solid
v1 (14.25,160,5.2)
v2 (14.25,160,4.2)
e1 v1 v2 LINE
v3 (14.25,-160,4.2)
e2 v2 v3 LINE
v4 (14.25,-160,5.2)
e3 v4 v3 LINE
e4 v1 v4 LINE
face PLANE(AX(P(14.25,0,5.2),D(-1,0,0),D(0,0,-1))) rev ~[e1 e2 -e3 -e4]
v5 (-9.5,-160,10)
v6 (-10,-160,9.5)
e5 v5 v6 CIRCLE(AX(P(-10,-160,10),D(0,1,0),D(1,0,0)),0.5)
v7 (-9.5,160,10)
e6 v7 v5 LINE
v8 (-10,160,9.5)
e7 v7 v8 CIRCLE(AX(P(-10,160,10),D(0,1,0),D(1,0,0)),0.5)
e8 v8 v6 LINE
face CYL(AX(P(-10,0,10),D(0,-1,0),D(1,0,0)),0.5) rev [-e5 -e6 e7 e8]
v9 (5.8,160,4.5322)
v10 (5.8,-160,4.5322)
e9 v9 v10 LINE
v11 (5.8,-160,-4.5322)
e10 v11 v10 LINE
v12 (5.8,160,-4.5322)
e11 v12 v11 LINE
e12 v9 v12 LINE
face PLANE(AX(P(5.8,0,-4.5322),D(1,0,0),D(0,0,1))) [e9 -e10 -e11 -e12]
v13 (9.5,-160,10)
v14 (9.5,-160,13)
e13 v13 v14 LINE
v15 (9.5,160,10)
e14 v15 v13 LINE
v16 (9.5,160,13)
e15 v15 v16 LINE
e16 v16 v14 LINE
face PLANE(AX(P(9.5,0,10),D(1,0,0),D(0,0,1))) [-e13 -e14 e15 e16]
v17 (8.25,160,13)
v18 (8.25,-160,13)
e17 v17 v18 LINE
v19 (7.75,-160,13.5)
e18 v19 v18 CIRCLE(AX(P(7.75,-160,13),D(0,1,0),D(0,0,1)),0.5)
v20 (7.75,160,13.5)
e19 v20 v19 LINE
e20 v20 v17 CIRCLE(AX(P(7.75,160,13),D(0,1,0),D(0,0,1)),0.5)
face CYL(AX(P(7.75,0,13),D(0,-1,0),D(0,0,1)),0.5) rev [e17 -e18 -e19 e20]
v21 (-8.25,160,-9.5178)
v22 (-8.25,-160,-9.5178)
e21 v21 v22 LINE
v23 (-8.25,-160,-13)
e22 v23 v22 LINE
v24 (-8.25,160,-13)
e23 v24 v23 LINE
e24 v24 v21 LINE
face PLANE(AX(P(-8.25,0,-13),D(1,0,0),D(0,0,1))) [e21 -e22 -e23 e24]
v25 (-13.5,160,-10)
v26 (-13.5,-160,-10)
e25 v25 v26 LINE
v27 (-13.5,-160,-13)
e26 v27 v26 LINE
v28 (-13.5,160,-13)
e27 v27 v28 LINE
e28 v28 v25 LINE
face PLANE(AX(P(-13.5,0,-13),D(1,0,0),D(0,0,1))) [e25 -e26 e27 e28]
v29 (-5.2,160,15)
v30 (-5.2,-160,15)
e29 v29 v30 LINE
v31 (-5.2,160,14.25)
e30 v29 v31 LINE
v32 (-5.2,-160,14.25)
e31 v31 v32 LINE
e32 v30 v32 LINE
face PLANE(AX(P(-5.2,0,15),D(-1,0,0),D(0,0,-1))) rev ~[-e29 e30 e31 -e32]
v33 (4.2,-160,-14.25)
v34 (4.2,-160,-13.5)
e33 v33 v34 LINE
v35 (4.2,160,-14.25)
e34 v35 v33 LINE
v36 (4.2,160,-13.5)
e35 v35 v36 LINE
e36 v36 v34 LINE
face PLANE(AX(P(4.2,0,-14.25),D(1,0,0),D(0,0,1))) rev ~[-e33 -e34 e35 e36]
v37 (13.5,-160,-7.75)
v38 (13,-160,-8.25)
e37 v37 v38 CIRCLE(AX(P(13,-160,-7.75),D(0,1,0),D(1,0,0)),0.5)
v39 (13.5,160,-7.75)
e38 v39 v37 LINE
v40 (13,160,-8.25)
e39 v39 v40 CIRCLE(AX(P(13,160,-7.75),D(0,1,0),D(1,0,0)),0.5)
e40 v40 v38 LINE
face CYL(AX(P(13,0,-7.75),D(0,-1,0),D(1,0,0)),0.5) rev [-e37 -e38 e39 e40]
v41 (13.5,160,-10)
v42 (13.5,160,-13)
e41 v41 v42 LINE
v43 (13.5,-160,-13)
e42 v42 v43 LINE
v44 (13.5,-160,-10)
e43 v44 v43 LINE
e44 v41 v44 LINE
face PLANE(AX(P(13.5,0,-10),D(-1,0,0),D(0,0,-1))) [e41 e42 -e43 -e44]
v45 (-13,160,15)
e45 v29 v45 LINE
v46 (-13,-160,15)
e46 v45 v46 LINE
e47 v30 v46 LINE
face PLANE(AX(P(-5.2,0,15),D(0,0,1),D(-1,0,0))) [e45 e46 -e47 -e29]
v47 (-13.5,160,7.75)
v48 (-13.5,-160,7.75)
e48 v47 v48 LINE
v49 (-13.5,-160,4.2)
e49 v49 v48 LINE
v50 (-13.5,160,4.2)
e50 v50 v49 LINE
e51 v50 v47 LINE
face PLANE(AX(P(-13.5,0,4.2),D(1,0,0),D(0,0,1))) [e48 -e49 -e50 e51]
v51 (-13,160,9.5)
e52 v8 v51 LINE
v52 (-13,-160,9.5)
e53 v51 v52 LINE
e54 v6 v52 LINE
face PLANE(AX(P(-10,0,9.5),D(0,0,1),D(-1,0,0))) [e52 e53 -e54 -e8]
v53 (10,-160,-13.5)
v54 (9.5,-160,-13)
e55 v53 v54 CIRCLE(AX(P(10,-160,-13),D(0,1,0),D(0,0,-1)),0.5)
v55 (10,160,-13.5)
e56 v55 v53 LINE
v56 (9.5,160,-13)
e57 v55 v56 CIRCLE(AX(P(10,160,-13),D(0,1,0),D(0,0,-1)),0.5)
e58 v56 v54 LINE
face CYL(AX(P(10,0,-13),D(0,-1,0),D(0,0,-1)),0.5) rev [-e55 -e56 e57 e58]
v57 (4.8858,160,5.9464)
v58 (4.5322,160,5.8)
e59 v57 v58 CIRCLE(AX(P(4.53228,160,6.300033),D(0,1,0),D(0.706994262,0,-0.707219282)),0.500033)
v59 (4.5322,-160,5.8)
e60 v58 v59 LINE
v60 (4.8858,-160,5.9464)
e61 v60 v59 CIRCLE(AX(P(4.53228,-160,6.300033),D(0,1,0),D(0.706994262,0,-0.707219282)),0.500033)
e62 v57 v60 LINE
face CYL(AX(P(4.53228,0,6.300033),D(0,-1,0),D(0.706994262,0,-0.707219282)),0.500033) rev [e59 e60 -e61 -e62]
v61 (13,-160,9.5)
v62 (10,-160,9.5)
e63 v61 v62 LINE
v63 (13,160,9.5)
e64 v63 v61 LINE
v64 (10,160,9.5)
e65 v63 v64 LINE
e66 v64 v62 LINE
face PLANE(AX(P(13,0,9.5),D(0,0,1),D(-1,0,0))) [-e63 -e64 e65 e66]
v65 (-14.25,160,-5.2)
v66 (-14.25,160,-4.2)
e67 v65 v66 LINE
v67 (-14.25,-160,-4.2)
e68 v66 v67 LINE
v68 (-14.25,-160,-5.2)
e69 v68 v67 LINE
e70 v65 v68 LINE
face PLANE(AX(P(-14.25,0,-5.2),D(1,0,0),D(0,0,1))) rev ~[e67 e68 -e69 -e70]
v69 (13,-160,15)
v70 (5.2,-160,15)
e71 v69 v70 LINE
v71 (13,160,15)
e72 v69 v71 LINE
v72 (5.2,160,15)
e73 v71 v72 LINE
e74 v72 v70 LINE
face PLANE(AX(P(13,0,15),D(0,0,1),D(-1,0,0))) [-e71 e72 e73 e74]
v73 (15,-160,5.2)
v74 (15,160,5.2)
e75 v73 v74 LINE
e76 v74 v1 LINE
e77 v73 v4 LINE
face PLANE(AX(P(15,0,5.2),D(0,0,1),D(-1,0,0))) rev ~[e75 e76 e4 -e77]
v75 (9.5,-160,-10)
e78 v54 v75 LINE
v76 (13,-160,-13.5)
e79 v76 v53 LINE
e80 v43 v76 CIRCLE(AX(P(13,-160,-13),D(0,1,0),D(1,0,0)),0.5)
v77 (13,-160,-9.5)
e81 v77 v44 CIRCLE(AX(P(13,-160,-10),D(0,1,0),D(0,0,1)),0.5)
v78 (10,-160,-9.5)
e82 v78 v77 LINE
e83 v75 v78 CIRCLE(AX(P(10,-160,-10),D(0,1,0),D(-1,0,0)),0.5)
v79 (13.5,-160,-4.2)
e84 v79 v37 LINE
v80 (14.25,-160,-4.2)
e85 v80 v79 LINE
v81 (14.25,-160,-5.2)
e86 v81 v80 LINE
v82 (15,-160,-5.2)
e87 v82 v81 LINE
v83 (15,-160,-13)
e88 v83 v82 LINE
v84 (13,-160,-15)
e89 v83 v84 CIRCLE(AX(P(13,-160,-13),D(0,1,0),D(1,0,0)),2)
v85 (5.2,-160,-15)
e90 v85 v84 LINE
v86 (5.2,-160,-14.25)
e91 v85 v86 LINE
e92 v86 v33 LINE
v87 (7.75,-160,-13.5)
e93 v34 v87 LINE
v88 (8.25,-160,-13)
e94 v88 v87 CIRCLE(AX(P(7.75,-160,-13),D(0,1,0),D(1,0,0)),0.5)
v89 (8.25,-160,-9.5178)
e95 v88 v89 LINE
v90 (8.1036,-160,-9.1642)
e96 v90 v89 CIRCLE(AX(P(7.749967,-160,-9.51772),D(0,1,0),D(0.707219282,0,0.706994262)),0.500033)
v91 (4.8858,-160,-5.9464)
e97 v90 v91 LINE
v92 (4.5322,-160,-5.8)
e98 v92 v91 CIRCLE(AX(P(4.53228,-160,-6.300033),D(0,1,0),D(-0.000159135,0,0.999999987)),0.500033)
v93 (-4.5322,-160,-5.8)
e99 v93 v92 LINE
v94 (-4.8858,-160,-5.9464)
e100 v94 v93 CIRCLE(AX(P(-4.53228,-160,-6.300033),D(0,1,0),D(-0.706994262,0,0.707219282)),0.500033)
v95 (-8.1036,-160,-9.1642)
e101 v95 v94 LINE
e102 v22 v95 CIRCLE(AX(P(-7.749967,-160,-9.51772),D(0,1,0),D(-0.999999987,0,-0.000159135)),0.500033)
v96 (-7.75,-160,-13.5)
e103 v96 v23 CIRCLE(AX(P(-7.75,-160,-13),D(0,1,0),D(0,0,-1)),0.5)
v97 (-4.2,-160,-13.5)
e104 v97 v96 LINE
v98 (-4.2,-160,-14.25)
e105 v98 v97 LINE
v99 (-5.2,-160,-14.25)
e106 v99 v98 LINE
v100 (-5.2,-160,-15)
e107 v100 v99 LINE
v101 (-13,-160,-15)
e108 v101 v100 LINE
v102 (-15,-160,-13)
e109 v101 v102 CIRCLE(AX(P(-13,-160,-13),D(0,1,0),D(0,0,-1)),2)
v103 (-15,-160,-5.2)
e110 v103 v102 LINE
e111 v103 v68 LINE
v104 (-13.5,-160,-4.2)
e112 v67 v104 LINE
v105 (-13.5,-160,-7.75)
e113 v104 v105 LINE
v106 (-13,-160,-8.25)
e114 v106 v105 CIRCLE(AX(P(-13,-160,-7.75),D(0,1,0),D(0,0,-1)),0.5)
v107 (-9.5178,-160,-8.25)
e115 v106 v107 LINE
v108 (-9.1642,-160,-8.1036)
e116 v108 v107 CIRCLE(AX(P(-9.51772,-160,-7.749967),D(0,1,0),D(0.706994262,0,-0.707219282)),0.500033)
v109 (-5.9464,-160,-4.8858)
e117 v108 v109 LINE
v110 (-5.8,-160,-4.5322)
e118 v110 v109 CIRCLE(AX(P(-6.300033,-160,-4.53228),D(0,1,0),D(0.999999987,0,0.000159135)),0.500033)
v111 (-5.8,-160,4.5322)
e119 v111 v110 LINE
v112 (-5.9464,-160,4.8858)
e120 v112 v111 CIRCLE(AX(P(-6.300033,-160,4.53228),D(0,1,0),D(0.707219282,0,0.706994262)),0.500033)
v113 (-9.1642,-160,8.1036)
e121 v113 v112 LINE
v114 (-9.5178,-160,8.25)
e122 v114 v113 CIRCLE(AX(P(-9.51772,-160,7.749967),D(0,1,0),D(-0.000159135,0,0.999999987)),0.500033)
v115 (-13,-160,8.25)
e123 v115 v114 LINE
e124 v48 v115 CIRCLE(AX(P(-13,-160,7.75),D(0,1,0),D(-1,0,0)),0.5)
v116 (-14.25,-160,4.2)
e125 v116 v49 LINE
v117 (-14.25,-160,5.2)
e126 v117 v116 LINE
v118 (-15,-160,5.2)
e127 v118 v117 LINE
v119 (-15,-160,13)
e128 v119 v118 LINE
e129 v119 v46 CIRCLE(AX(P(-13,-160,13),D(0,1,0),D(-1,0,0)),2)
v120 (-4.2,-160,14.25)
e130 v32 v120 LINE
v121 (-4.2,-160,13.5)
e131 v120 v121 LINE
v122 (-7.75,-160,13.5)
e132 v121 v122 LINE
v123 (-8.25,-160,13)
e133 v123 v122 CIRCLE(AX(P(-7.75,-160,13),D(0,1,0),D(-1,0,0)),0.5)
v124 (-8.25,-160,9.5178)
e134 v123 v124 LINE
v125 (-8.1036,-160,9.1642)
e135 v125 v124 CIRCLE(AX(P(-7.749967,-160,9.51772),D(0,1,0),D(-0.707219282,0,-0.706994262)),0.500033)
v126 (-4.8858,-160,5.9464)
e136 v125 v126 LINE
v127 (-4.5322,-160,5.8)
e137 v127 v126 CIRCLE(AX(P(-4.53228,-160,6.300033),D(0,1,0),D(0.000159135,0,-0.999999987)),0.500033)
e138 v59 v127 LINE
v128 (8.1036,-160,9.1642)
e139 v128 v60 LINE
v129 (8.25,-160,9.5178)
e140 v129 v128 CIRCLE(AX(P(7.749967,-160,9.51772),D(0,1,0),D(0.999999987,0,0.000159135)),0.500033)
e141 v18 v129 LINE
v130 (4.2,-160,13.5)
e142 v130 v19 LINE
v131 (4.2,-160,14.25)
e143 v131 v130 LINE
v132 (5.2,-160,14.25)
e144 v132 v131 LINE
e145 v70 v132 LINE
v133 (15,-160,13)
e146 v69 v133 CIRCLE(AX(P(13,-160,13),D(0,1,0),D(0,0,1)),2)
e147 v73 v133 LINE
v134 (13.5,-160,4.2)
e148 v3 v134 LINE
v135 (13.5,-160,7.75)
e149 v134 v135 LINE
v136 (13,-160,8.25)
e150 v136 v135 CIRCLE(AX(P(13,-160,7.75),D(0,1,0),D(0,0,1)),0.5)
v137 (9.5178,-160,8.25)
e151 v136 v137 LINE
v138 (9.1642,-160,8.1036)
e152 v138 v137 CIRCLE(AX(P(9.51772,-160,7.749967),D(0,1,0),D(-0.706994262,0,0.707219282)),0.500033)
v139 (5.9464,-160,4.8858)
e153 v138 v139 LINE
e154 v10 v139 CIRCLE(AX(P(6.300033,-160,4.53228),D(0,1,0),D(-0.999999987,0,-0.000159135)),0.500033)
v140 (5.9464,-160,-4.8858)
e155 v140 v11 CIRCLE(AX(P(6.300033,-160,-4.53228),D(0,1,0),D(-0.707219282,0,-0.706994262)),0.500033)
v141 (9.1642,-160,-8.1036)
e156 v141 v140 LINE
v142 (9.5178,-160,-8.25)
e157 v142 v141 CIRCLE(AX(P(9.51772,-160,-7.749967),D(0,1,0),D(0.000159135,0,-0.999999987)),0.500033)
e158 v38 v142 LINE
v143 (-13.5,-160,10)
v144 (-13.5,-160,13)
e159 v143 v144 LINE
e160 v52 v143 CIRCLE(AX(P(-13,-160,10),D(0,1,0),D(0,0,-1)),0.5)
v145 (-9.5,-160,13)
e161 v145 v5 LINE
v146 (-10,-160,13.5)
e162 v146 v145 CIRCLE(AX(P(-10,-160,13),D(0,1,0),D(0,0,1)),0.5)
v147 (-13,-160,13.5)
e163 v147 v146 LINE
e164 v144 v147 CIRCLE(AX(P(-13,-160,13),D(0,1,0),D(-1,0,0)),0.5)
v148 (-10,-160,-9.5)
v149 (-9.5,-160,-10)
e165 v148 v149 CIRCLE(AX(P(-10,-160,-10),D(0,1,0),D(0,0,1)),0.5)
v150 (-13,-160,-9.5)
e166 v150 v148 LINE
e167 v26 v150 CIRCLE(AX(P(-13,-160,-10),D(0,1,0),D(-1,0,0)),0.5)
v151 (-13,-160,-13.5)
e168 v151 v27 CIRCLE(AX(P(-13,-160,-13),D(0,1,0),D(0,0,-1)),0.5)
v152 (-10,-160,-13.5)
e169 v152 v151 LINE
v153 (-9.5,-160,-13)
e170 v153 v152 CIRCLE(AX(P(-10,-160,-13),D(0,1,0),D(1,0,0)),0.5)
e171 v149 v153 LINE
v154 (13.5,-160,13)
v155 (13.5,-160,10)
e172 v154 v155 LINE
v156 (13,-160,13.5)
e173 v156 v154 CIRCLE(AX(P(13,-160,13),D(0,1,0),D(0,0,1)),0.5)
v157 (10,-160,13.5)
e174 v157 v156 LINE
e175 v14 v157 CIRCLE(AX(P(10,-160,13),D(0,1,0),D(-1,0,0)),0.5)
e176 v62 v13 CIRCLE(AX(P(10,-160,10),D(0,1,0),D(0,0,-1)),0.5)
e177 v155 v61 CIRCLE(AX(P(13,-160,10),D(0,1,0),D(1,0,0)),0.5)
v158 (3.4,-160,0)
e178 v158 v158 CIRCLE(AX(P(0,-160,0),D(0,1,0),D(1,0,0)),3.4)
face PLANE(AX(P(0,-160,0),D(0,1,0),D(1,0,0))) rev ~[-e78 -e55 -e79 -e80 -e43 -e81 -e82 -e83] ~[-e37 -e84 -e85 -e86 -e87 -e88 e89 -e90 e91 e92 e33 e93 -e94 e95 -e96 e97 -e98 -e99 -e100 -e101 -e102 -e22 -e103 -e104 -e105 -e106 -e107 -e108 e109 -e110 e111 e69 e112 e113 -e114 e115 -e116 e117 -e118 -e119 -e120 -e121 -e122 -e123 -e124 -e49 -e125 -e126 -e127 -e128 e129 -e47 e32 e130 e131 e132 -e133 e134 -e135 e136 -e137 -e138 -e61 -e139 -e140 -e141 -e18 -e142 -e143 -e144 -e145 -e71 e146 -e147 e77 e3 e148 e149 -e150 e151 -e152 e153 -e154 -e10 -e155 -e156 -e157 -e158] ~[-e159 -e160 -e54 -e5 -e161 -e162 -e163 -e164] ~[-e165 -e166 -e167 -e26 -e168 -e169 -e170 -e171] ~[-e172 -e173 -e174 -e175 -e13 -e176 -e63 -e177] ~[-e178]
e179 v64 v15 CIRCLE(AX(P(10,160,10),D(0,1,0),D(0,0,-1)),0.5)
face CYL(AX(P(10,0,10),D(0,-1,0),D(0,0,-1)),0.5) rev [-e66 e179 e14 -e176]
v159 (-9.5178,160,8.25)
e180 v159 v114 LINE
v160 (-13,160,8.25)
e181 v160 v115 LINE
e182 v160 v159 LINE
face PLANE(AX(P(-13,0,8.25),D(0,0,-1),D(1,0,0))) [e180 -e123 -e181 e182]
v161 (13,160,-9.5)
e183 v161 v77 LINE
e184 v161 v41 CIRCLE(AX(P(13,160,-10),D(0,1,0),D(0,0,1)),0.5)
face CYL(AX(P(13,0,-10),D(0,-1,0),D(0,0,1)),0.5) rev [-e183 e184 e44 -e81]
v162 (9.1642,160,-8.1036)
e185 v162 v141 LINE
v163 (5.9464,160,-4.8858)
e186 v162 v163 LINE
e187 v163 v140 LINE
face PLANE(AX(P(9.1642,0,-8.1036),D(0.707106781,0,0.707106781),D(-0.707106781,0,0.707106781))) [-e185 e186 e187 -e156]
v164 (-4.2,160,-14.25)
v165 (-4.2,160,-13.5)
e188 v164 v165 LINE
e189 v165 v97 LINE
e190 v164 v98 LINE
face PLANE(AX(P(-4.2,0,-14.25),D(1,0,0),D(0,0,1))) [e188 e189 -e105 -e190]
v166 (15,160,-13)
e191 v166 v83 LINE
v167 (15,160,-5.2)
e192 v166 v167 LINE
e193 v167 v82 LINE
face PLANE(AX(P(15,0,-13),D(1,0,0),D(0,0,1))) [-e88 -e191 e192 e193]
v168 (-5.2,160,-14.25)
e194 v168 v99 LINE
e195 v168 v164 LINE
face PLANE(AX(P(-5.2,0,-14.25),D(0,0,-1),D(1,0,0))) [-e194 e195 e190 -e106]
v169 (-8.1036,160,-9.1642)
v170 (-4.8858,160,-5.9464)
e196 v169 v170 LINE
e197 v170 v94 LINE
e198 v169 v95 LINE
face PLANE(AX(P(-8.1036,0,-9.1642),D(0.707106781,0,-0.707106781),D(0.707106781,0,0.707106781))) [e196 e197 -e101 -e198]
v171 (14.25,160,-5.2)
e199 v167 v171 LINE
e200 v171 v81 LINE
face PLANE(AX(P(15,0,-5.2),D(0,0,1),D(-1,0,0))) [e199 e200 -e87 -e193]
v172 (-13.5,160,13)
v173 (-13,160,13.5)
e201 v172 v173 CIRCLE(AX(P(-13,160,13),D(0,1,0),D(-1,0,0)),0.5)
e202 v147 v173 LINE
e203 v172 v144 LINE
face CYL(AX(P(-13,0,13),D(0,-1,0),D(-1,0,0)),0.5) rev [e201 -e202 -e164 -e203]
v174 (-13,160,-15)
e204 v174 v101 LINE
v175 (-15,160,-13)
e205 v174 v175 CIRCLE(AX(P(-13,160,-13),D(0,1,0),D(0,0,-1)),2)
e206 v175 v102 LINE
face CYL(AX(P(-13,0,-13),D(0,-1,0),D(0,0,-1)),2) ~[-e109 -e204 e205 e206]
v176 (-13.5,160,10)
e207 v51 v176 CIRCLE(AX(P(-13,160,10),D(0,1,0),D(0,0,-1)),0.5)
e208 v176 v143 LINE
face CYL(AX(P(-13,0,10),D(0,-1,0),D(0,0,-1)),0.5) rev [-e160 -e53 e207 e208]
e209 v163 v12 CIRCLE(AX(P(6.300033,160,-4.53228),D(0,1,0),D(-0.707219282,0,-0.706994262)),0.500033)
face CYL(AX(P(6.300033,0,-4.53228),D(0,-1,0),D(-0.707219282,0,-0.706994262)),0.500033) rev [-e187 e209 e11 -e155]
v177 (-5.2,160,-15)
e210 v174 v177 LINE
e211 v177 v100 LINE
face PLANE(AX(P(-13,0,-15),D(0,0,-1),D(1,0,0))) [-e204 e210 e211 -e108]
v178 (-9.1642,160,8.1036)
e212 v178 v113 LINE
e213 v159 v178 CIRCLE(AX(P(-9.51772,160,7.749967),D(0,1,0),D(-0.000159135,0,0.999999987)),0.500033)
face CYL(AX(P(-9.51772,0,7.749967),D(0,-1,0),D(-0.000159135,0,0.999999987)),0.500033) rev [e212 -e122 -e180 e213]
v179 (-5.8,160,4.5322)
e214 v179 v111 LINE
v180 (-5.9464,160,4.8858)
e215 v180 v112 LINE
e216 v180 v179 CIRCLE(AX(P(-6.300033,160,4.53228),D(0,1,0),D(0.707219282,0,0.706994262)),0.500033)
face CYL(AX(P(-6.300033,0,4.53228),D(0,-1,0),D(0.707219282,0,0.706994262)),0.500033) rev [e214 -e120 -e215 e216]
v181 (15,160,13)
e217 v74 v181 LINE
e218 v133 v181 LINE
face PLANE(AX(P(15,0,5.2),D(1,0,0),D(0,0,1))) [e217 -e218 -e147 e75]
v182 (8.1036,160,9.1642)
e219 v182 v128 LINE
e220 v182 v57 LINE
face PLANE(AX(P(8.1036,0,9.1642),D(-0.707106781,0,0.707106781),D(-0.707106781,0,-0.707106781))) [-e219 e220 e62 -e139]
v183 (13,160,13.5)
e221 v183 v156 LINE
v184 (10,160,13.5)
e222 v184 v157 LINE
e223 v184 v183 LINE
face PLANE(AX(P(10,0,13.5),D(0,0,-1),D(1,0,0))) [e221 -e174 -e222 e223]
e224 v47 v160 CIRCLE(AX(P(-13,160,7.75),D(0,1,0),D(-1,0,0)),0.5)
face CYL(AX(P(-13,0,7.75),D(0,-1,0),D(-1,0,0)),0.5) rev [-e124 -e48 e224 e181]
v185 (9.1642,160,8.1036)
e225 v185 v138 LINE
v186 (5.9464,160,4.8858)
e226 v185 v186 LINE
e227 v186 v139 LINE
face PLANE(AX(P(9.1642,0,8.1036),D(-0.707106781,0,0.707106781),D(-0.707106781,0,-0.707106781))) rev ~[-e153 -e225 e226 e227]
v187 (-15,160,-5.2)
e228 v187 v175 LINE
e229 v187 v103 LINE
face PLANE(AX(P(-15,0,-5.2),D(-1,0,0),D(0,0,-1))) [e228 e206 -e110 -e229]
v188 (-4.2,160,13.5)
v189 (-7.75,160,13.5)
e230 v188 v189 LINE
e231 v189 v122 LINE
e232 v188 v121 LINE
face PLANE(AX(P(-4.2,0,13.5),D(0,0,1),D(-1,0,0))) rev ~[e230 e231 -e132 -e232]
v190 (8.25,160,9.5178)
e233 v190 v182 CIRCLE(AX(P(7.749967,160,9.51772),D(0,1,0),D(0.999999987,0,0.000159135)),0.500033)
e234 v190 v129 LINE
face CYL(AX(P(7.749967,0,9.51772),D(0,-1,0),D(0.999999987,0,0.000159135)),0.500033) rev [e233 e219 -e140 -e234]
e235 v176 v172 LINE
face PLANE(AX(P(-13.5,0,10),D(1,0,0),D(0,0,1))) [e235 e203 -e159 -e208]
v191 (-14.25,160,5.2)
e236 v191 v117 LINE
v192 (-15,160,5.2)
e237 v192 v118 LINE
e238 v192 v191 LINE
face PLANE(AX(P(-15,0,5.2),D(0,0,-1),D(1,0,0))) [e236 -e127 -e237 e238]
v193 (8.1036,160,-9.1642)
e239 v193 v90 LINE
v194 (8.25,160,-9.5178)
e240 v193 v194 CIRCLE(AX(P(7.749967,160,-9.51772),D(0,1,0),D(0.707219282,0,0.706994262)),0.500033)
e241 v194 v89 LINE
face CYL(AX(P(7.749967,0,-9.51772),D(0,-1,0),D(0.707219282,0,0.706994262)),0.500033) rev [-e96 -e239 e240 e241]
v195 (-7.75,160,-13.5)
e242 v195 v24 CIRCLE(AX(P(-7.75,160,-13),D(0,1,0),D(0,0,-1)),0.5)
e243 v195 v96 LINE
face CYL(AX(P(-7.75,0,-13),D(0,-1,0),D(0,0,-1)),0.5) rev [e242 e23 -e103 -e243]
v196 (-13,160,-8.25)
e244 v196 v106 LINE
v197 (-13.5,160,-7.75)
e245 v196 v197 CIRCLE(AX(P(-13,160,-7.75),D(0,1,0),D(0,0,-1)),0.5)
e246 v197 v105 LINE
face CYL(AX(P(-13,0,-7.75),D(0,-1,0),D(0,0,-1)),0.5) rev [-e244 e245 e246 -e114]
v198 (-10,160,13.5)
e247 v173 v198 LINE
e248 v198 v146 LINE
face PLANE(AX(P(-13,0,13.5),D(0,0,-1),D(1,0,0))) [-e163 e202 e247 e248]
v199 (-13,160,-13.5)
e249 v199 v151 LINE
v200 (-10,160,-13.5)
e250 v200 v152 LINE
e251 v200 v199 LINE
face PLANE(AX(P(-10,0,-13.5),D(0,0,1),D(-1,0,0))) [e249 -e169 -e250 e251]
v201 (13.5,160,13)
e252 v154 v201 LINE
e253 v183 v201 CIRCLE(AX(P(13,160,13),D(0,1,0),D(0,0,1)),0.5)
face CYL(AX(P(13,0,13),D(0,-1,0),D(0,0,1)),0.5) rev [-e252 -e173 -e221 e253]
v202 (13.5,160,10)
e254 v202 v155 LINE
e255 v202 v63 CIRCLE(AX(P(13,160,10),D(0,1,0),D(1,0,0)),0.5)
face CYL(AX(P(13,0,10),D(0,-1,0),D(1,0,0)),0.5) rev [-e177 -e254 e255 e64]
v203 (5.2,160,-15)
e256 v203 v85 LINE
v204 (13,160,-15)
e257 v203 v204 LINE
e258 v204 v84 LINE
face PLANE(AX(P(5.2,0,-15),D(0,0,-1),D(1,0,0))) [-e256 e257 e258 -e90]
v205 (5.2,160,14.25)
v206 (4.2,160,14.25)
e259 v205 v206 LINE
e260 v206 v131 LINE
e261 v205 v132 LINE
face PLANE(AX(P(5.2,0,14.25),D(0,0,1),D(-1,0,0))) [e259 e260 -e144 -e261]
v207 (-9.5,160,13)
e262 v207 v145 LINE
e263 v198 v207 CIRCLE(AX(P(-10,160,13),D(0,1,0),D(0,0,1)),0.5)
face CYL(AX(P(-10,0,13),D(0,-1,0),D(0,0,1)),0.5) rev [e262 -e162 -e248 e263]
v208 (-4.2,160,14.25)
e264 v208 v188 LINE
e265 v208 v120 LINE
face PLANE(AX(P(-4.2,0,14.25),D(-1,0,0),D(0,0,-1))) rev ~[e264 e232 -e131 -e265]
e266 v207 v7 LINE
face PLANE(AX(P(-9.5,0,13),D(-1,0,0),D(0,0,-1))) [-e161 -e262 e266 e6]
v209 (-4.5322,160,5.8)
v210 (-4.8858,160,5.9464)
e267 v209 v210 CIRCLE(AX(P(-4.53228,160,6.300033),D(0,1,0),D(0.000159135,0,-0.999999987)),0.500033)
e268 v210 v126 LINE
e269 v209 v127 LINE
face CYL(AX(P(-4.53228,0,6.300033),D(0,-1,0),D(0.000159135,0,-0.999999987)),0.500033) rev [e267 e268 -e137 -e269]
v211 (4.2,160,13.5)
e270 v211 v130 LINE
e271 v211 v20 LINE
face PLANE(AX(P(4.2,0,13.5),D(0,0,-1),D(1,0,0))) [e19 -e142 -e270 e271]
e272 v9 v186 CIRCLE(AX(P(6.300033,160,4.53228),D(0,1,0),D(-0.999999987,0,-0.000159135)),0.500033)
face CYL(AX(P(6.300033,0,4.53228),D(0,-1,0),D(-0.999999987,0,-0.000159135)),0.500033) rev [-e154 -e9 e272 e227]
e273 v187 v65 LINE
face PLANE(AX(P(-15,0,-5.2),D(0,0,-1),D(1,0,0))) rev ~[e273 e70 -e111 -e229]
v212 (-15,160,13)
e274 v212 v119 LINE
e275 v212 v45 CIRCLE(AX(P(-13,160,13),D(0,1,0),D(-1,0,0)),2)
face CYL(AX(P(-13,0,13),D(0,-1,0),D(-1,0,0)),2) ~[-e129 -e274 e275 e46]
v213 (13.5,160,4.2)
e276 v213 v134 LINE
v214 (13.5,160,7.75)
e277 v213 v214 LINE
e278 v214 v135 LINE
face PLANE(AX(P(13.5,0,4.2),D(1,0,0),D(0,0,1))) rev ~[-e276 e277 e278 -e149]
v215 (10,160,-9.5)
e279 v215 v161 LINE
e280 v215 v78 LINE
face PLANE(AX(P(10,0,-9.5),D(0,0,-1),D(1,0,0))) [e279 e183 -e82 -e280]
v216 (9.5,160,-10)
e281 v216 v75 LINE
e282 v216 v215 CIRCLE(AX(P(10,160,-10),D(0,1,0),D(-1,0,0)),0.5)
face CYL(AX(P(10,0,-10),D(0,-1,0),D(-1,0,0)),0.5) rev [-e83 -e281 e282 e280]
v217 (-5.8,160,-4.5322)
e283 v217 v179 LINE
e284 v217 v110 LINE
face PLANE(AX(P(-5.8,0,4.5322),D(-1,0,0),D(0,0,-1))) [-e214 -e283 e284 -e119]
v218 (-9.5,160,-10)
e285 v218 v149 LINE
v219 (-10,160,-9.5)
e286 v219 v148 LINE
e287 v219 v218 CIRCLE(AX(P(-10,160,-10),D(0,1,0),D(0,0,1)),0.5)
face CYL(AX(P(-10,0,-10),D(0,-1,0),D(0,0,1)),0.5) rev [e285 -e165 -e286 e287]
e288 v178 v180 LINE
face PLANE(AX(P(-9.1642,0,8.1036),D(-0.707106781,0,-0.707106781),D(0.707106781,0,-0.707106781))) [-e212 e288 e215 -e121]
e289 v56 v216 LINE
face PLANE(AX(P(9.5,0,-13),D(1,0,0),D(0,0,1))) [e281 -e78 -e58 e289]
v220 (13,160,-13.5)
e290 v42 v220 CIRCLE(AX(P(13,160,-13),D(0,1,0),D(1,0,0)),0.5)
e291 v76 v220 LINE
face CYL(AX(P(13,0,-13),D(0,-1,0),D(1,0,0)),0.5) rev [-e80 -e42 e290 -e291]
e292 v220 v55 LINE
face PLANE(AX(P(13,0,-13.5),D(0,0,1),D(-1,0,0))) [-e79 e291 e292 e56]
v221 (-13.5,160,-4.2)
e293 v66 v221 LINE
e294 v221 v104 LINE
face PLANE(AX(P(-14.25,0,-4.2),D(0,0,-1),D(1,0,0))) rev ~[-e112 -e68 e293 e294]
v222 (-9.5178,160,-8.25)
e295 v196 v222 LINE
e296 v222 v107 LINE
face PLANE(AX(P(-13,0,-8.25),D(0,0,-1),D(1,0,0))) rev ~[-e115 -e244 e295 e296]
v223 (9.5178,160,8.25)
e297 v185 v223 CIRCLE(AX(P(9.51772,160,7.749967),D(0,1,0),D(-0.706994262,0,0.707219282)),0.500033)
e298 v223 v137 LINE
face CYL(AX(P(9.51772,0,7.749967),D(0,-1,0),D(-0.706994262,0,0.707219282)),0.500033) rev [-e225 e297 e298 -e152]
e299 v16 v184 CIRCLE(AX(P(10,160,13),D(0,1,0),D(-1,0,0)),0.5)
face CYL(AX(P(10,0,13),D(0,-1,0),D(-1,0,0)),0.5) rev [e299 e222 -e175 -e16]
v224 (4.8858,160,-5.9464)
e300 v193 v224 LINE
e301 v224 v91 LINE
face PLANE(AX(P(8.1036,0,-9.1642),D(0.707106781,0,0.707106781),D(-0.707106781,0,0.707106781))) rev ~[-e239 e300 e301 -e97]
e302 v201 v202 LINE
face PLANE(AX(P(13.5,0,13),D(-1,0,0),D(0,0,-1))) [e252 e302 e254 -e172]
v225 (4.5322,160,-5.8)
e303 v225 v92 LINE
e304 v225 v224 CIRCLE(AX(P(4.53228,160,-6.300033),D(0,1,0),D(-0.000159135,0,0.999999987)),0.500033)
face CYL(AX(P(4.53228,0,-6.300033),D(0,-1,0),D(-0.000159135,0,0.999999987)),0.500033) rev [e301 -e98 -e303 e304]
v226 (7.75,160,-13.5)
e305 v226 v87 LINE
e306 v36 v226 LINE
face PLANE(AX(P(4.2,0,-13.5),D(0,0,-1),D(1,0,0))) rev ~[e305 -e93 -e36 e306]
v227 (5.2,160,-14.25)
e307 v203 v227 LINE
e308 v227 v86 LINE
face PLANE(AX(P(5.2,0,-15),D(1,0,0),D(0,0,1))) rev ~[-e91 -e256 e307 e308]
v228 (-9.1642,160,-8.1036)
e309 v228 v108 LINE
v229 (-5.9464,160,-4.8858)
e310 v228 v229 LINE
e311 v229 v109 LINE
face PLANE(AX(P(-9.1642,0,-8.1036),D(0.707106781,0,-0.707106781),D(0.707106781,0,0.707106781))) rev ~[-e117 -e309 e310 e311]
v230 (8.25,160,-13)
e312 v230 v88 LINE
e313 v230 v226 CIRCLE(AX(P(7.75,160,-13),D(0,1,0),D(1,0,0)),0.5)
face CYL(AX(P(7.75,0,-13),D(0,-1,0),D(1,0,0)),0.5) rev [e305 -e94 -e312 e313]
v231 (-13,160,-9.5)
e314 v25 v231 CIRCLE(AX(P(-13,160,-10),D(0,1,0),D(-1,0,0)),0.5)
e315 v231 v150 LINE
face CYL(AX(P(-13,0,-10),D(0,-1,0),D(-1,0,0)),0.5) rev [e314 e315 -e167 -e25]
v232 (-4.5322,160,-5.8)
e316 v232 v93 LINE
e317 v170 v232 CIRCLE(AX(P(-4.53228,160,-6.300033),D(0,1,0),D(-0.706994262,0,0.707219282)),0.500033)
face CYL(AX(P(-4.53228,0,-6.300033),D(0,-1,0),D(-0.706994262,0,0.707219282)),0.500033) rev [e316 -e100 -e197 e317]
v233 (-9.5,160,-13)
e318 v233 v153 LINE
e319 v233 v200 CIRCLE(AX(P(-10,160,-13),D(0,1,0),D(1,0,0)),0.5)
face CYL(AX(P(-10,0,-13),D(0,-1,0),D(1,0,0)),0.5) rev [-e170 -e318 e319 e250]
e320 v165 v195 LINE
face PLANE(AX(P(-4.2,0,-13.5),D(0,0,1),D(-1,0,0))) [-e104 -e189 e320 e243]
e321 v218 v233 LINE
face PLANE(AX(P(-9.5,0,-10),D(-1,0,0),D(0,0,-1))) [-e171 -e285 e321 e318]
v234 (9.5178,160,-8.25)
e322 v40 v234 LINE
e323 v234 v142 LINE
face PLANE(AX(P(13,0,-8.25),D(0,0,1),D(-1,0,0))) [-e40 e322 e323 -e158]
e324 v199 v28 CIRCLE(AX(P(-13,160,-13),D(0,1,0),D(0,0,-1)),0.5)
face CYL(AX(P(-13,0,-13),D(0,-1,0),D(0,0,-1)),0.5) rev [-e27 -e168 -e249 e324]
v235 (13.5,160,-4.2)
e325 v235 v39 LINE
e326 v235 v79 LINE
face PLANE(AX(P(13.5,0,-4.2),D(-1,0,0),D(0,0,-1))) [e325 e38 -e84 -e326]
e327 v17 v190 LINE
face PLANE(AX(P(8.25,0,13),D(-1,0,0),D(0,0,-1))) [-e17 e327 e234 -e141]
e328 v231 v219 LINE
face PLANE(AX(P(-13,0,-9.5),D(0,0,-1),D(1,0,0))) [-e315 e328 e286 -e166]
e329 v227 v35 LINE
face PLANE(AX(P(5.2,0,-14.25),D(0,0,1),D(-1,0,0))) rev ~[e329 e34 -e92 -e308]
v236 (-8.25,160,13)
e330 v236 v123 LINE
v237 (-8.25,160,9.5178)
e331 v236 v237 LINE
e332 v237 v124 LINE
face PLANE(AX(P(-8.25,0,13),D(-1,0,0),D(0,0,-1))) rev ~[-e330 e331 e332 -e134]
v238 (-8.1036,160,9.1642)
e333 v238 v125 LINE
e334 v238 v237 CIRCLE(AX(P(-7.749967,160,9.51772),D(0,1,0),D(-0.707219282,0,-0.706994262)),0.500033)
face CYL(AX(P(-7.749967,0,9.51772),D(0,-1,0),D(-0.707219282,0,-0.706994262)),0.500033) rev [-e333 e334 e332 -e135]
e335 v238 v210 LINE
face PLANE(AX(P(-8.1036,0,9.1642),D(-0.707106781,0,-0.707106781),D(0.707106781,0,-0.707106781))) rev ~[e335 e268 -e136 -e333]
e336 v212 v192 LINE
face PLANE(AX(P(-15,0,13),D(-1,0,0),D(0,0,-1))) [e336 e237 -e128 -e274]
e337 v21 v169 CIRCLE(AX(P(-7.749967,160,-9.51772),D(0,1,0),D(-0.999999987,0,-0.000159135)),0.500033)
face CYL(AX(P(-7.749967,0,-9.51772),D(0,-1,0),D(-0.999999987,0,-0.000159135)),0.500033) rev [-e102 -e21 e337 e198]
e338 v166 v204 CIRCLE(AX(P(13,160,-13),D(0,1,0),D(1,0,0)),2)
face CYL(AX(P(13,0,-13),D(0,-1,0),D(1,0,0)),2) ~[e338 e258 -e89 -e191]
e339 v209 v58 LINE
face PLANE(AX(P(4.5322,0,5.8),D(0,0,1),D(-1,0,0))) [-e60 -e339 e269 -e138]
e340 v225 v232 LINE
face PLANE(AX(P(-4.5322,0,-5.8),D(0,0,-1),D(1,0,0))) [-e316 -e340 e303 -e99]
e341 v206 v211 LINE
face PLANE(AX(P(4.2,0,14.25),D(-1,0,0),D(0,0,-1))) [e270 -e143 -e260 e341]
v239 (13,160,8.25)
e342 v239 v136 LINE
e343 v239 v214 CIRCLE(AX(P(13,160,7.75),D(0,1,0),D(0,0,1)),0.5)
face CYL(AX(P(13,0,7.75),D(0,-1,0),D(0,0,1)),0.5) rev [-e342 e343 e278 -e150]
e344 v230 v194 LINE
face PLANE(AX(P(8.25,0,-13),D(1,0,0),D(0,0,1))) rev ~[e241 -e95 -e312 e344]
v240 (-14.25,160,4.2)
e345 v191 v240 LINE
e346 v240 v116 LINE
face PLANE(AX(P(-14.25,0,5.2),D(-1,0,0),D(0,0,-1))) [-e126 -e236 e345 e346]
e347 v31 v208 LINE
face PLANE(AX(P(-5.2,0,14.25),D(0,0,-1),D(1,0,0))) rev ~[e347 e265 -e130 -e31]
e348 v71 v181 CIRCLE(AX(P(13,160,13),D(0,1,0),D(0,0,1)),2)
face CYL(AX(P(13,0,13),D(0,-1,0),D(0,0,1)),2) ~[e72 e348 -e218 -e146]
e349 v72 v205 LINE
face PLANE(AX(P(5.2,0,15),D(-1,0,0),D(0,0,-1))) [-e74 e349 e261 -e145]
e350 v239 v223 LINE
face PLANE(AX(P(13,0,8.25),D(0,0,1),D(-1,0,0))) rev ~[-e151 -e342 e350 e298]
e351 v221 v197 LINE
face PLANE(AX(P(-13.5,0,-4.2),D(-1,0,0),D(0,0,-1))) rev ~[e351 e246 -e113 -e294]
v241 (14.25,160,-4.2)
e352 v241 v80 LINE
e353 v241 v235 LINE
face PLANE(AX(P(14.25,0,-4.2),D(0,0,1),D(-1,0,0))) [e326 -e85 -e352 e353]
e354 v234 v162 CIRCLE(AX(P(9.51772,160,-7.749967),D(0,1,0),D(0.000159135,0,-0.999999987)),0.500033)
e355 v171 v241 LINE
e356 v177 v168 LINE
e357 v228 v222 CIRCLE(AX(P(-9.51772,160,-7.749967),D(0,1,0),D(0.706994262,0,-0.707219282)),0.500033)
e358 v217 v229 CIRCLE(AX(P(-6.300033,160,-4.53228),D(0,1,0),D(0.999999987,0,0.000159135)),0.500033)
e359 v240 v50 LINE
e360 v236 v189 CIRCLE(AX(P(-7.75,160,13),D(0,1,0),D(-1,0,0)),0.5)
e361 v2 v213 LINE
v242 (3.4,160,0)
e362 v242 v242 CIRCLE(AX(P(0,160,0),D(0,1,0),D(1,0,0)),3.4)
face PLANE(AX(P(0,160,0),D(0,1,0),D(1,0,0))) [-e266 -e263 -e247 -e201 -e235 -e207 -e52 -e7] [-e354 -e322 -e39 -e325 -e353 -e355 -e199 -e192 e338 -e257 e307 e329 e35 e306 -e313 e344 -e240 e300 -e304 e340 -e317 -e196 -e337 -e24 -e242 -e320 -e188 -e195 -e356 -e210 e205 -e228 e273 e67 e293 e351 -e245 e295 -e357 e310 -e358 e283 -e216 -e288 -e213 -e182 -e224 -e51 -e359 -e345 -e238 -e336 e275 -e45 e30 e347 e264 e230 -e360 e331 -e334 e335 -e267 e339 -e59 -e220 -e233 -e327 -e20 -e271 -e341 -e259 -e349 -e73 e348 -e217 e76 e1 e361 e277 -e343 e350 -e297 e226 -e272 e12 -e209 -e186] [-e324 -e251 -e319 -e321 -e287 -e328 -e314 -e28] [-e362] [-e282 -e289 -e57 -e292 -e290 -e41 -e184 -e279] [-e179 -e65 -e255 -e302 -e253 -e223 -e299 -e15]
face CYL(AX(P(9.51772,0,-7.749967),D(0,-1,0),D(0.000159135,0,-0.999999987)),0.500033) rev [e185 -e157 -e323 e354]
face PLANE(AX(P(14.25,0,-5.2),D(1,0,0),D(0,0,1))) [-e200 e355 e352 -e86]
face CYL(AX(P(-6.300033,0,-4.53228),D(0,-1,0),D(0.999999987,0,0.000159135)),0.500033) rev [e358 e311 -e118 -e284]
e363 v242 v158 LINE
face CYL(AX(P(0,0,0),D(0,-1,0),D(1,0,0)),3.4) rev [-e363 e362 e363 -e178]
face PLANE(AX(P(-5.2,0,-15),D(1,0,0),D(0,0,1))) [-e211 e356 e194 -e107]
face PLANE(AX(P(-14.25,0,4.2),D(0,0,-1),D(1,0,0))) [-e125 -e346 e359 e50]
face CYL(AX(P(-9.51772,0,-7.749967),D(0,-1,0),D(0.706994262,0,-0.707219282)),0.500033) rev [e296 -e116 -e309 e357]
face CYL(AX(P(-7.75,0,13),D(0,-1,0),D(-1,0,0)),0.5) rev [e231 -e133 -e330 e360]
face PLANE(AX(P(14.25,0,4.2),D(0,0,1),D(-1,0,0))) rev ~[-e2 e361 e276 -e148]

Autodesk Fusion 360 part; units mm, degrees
sketch "スケッチ1" plane through (0, 0, 0) normal (0, 1, 0) x (1, 0, 0)
  line L0 (13, -15) -> (-13, -15)
  line L1 (-15, -13) -> (-15, 13)
  line L2 (-13, 15) -> (13, 15)
  line L3 (15, 13) -> (15, -13)
  line L4 (15, -15) -> (-15, 15) construction
  line L5 (-15, -15) -> (15, 15) construction
  circle A0 centre (0, 0) radius 3.4
  line L6 (-5.2, -15) -> (-5.2, -14.25)
  line L7 (-5.2, -14.25) -> (-4.2, -14.25)
  line L8 (-4.2, -14.25) -> (-4.2, -13.5)
  line L9 (-4.2, -13.5) -> (-7.75, -13.5)
  line L10 (-8.25, -13) -> (-8.25, -9.5178)
  line L11 (-8.1036, -9.1642) -> (-4.8858, -5.9464)
  line L12 (-4.5322, -5.8) -> (0, -5.8)
  arc A1 (-8.25, -13) -> (-7.75, -13.5) centre (-7.75, -13) ccw
  arc A2 (-8.1036, -9.1642) -> (-8.25, -9.5178) centre (-7.75, -9.5178) ccw
  arc A3 (-4.5322, -5.8) -> (-4.8858, -5.9464) centre (-4.5322, -6.3) ccw
  line L13 (-13, -13.5) -> (-10, -13.5)
  line L14 (-9.5, -13) -> (-9.5, -10)
  line L15 (-10, -9.5) -> (-13, -9.5)
  line L16 (-13.5, -10) -> (-13.5, -13)
  arc A4 (-13.5, -13) -> (-13, -13.5) centre (-13, -13) ccw
  arc A5 (-10, -13.5) -> (-9.5, -13) centre (-10, -13) ccw
  arc A6 (-9.5, -10) -> (-10, -9.5) centre (-10, -10) ccw
  arc A7 (-13, -9.5) -> (-13.5, -10) centre (-13, -10) ccw
  arc A8 (-15, -13) -> (-13, -15) centre (-13, -13) ccw
  arc A9 (-13, 15) -> (-15, 13) centre (-13, 13) ccw
  arc A10 (15, 13) -> (13, 15) centre (13, 13) ccw
  arc A11 (13, -15) -> (15, -13) centre (13, -13) ccw
  line L17 (0, 0) -> (0, -15) construction
  line L18 (5.2, -15) -> (5.2, -14.25)
  line L19 (5.2, -14.25) -> (4.2, -14.25)
  line L20 (4.2, -14.25) -> (4.2, -13.5)
  line L21 (4.2, -13.5) -> (7.75, -13.5)
  arc A12 (7.75, -13.5) -> (8.25, -13) centre (7.75, -13) ccw
  line L22 (8.25, -13) -> (8.25, -9.5178)
  arc A13 (8.25, -9.5178) -> (8.1036, -9.1642) centre (7.75, -9.5178) ccw
  line L23 (8.1036, -9.1642) -> (4.8858, -5.9464)
  arc A14 (4.8858, -5.9464) -> (4.5322, -5.8) centre (4.5322, -6.3) ccw
  line L24 (4.5322, -5.8) -> (0, -5.8)
  line L25 (15, -5.2) -> (14.25, -5.2)
  line L26 (14.25, -5.2) -> (14.25, -4.2)
  line L27 (14.25, -4.2) -> (13.5, -4.2)
  line L28 (13.5, -4.2) -> (13.5, -7.75)
  arc A15 (13, -8.25) -> (13.5, -7.75) centre (13, -7.75) ccw
  line L29 (13, -8.25) -> (9.5178, -8.25)
  arc A16 (9.1642, -8.1036) -> (9.5178, -8.25) centre (9.5178, -7.75) ccw
  line L30 (9.1642, -8.1036) -> (5.9464, -4.8858)
  arc A17 (5.8, -4.5322) -> (5.9464, -4.8858) centre (6.3, -4.5322) ccw
  line L31 (5.8, -4.5322) -> (5.8, 0)
  line L32 (5.8, 4.5322) -> (5.8, 0)
  arc A18 (5.9464, 4.8858) -> (5.8, 4.5322) centre (6.3, 4.5322) ccw
  line L33 (9.1642, 8.1036) -> (5.9464, 4.8858)
  arc A19 (9.5178, 8.25) -> (9.1642, 8.1036) centre (9.5178, 7.75) ccw
  line L34 (13, 8.25) -> (9.5178, 8.25)
  arc A20 (13.5, 7.75) -> (13, 8.25) centre (13, 7.75) ccw
  line L35 (13.5, 4.2) -> (13.5, 7.75)
  line L36 (14.25, 4.2) -> (13.5, 4.2)
  line L37 (14.25, 5.2) -> (14.25, 4.2)
  line L38 (15, 5.2) -> (14.25, 5.2)
  line L39 (13.5, -13) -> (13.5, -10)
  arc A21 (13.5, -10) -> (13, -9.5) centre (13, -10) ccw
  line L40 (13, -9.5) -> (10, -9.5)
  arc A22 (10, -9.5) -> (9.5, -10) centre (10, -10) ccw
  line L41 (9.5, -10) -> (9.5, -13)
  arc A23 (9.5, -13) -> (10, -13.5) centre (10, -13) ccw
  line L42 (10, -13.5) -> (13, -13.5)
  arc A24 (13, -13.5) -> (13.5, -13) centre (13, -13) ccw
  line L43 (5.2, 15) -> (5.2, 14.25)
  line L44 (5.2, 14.25) -> (4.2, 14.25)
  line L45 (4.2, 14.25) -> (4.2, 13.5)
  line L46 (4.2, 13.5) -> (7.75, 13.5)
  arc A25 (8.25, 13) -> (7.75, 13.5) centre (7.75, 13) ccw
  line L47 (8.25, 13) -> (8.25, 9.5178)
  arc A26 (8.1036, 9.1642) -> (8.25, 9.5178) centre (7.75, 9.5178) ccw
  line L48 (8.1036, 9.1642) -> (4.8858, 5.9464)
  arc A27 (4.5322, 5.8) -> (4.8858, 5.9464) centre (4.5322, 6.3) ccw
  line L49 (4.5322, 5.8) -> (0, 5.8)
  line L50 (-4.5322, 5.8) -> (0, 5.8)
  arc A28 (-4.8858, 5.9464) -> (-4.5322, 5.8) centre (-4.5322, 6.3) ccw
  line L51 (-8.1036, 9.1642) -> (-4.8858, 5.9464)
  arc A29 (-8.25, 9.5178) -> (-8.1036, 9.1642) centre (-7.75, 9.5178) ccw
  line L52 (-8.25, 13) -> (-8.25, 9.5178)
  arc A30 (-7.75, 13.5) -> (-8.25, 13) centre (-7.75, 13) ccw
  line L53 (-4.2, 13.5) -> (-7.75, 13.5)
  line L54 (-4.2, 14.25) -> (-4.2, 13.5)
  line L55 (-5.2, 14.25) -> (-4.2, 14.25)
  line L56 (-5.2, 15) -> (-5.2, 14.25)
  line L57 (13, 13.5) -> (10, 13.5)
  arc A31 (10, 13.5) -> (9.5, 13) centre (10, 13) ccw
  line L58 (9.5, 13) -> (9.5, 10)
  arc A32 (9.5, 10) -> (10, 9.5) centre (10, 10) ccw
  line L59 (10, 9.5) -> (13, 9.5)
  arc A33 (13, 9.5) -> (13.5, 10) centre (13, 10) ccw
  line L60 (13.5, 10) -> (13.5, 13)
  arc A34 (13.5, 13) -> (13, 13.5) centre (13, 13) ccw
  line L61 (-15, 5.2) -> (-14.25, 5.2)
  line L62 (-14.25, 5.2) -> (-14.25, 4.2)
  line L63 (-14.25, 4.2) -> (-13.5, 4.2)
  line L64 (-13.5, 4.2) -> (-13.5, 7.75)
  arc A35 (-13, 8.25) -> (-13.5, 7.75) centre (-13, 7.75) ccw
  line L65 (-13, 8.25) -> (-9.5178, 8.25)
  arc A36 (-9.1642, 8.1036) -> (-9.5178, 8.25) centre (-9.5178, 7.75) ccw
  line L66 (-9.1642, 8.1036) -> (-5.9464, 4.8858)
  arc A37 (-5.8, 4.5322) -> (-5.9464, 4.8858) centre (-6.3, 4.5322) ccw
  line L67 (-5.8, 4.5322) -> (-5.8, 0)
  line L68 (-5.8, -4.5322) -> (-5.8, 0)
  arc A38 (-5.9464, -4.8858) -> (-5.8, -4.5322) centre (-6.3, -4.5322) ccw
  line L69 (-9.1642, -8.1036) -> (-5.9464, -4.8858)
  arc A39 (-9.5178, -8.25) -> (-9.1642, -8.1036) centre (-9.5178, -7.75) ccw
  line L70 (-13, -8.25) -> (-9.5178, -8.25)
  arc A40 (-13.5, -7.75) -> (-13, -8.25) centre (-13, -7.75) ccw
  line L71 (-13.5, -4.2) -> (-13.5, -7.75)
  line L72 (-14.25, -4.2) -> (-13.5, -4.2)
  line L73 (-14.25, -5.2) -> (-14.25, -4.2)
  line L74 (-15, -5.2) -> (-14.25, -5.2)
  line L75 (-13.5, 13) -> (-13.5, 10)
  arc A41 (-13.5, 10) -> (-13, 9.5) centre (-13, 10) ccw
  line L76 (-13, 9.5) -> (-10, 9.5)
  arc A42 (-10, 9.5) -> (-9.5, 10) centre (-10, 10) ccw
  line L77 (-9.5, 10) -> (-9.5, 13)
  arc A43 (-9.5, 13) -> (-10, 13.5) centre (-10, 13) ccw
  line L78 (-10, 13.5) -> (-13, 13.5)
  arc A44 (-13, 13.5) -> (-13.5, 13) centre (-13, 13) ccw
  dimension "d1" = 30
  dimension "d2" = 30
  dimension "d3" = 6.8
  dimension "d4" = 1
  dimension "d5" = 0.75
  dimension "d6" = 0.75
  dimension "d7" = 4.2
  dimension "d8" = 8.25
  dimension "d9" = 0.75
  dimension "d10" = 9.2
  dimension "d13" = 0.5
  dimension "d14" = 0.5
  dimension "d15" = 0.5
  dimension "d16" = 4
  dimension "d17" = 1.5
  dimension "d18" = 0.5
  dimension "d19" = 0.5
  dimension "d20" = 4
  dimension "d21" = 2
  dimension "d23" = 360
extrude "押し出し1" add sketch "スケッチ1" along normal mid plane 320 contours L0 L1 L2 L3 L6 L7 L8 L9 L10 L11 L12 A1 A2 A3 A8 A9 A10 A11 L18 L19 L20 L21 A12 L22 A13 L23 A14 L24 L25 L26 L27 L28 A15 L29 A16 L30 A17 L31 L32 A18 L33 A19 L34 A20 L35 L36 L37 L38 L43 L44 L45 L46 A25 L47 A26 L48 A27 L49 L50 A28 L51 A29 L52 A30 L53 L54 L55 L56 L61 L62 L63 L64 A35 L65 A36 L66 A37 L67 L68 A38 L69 A39 L70 A40 L71 L72 L73 L74
